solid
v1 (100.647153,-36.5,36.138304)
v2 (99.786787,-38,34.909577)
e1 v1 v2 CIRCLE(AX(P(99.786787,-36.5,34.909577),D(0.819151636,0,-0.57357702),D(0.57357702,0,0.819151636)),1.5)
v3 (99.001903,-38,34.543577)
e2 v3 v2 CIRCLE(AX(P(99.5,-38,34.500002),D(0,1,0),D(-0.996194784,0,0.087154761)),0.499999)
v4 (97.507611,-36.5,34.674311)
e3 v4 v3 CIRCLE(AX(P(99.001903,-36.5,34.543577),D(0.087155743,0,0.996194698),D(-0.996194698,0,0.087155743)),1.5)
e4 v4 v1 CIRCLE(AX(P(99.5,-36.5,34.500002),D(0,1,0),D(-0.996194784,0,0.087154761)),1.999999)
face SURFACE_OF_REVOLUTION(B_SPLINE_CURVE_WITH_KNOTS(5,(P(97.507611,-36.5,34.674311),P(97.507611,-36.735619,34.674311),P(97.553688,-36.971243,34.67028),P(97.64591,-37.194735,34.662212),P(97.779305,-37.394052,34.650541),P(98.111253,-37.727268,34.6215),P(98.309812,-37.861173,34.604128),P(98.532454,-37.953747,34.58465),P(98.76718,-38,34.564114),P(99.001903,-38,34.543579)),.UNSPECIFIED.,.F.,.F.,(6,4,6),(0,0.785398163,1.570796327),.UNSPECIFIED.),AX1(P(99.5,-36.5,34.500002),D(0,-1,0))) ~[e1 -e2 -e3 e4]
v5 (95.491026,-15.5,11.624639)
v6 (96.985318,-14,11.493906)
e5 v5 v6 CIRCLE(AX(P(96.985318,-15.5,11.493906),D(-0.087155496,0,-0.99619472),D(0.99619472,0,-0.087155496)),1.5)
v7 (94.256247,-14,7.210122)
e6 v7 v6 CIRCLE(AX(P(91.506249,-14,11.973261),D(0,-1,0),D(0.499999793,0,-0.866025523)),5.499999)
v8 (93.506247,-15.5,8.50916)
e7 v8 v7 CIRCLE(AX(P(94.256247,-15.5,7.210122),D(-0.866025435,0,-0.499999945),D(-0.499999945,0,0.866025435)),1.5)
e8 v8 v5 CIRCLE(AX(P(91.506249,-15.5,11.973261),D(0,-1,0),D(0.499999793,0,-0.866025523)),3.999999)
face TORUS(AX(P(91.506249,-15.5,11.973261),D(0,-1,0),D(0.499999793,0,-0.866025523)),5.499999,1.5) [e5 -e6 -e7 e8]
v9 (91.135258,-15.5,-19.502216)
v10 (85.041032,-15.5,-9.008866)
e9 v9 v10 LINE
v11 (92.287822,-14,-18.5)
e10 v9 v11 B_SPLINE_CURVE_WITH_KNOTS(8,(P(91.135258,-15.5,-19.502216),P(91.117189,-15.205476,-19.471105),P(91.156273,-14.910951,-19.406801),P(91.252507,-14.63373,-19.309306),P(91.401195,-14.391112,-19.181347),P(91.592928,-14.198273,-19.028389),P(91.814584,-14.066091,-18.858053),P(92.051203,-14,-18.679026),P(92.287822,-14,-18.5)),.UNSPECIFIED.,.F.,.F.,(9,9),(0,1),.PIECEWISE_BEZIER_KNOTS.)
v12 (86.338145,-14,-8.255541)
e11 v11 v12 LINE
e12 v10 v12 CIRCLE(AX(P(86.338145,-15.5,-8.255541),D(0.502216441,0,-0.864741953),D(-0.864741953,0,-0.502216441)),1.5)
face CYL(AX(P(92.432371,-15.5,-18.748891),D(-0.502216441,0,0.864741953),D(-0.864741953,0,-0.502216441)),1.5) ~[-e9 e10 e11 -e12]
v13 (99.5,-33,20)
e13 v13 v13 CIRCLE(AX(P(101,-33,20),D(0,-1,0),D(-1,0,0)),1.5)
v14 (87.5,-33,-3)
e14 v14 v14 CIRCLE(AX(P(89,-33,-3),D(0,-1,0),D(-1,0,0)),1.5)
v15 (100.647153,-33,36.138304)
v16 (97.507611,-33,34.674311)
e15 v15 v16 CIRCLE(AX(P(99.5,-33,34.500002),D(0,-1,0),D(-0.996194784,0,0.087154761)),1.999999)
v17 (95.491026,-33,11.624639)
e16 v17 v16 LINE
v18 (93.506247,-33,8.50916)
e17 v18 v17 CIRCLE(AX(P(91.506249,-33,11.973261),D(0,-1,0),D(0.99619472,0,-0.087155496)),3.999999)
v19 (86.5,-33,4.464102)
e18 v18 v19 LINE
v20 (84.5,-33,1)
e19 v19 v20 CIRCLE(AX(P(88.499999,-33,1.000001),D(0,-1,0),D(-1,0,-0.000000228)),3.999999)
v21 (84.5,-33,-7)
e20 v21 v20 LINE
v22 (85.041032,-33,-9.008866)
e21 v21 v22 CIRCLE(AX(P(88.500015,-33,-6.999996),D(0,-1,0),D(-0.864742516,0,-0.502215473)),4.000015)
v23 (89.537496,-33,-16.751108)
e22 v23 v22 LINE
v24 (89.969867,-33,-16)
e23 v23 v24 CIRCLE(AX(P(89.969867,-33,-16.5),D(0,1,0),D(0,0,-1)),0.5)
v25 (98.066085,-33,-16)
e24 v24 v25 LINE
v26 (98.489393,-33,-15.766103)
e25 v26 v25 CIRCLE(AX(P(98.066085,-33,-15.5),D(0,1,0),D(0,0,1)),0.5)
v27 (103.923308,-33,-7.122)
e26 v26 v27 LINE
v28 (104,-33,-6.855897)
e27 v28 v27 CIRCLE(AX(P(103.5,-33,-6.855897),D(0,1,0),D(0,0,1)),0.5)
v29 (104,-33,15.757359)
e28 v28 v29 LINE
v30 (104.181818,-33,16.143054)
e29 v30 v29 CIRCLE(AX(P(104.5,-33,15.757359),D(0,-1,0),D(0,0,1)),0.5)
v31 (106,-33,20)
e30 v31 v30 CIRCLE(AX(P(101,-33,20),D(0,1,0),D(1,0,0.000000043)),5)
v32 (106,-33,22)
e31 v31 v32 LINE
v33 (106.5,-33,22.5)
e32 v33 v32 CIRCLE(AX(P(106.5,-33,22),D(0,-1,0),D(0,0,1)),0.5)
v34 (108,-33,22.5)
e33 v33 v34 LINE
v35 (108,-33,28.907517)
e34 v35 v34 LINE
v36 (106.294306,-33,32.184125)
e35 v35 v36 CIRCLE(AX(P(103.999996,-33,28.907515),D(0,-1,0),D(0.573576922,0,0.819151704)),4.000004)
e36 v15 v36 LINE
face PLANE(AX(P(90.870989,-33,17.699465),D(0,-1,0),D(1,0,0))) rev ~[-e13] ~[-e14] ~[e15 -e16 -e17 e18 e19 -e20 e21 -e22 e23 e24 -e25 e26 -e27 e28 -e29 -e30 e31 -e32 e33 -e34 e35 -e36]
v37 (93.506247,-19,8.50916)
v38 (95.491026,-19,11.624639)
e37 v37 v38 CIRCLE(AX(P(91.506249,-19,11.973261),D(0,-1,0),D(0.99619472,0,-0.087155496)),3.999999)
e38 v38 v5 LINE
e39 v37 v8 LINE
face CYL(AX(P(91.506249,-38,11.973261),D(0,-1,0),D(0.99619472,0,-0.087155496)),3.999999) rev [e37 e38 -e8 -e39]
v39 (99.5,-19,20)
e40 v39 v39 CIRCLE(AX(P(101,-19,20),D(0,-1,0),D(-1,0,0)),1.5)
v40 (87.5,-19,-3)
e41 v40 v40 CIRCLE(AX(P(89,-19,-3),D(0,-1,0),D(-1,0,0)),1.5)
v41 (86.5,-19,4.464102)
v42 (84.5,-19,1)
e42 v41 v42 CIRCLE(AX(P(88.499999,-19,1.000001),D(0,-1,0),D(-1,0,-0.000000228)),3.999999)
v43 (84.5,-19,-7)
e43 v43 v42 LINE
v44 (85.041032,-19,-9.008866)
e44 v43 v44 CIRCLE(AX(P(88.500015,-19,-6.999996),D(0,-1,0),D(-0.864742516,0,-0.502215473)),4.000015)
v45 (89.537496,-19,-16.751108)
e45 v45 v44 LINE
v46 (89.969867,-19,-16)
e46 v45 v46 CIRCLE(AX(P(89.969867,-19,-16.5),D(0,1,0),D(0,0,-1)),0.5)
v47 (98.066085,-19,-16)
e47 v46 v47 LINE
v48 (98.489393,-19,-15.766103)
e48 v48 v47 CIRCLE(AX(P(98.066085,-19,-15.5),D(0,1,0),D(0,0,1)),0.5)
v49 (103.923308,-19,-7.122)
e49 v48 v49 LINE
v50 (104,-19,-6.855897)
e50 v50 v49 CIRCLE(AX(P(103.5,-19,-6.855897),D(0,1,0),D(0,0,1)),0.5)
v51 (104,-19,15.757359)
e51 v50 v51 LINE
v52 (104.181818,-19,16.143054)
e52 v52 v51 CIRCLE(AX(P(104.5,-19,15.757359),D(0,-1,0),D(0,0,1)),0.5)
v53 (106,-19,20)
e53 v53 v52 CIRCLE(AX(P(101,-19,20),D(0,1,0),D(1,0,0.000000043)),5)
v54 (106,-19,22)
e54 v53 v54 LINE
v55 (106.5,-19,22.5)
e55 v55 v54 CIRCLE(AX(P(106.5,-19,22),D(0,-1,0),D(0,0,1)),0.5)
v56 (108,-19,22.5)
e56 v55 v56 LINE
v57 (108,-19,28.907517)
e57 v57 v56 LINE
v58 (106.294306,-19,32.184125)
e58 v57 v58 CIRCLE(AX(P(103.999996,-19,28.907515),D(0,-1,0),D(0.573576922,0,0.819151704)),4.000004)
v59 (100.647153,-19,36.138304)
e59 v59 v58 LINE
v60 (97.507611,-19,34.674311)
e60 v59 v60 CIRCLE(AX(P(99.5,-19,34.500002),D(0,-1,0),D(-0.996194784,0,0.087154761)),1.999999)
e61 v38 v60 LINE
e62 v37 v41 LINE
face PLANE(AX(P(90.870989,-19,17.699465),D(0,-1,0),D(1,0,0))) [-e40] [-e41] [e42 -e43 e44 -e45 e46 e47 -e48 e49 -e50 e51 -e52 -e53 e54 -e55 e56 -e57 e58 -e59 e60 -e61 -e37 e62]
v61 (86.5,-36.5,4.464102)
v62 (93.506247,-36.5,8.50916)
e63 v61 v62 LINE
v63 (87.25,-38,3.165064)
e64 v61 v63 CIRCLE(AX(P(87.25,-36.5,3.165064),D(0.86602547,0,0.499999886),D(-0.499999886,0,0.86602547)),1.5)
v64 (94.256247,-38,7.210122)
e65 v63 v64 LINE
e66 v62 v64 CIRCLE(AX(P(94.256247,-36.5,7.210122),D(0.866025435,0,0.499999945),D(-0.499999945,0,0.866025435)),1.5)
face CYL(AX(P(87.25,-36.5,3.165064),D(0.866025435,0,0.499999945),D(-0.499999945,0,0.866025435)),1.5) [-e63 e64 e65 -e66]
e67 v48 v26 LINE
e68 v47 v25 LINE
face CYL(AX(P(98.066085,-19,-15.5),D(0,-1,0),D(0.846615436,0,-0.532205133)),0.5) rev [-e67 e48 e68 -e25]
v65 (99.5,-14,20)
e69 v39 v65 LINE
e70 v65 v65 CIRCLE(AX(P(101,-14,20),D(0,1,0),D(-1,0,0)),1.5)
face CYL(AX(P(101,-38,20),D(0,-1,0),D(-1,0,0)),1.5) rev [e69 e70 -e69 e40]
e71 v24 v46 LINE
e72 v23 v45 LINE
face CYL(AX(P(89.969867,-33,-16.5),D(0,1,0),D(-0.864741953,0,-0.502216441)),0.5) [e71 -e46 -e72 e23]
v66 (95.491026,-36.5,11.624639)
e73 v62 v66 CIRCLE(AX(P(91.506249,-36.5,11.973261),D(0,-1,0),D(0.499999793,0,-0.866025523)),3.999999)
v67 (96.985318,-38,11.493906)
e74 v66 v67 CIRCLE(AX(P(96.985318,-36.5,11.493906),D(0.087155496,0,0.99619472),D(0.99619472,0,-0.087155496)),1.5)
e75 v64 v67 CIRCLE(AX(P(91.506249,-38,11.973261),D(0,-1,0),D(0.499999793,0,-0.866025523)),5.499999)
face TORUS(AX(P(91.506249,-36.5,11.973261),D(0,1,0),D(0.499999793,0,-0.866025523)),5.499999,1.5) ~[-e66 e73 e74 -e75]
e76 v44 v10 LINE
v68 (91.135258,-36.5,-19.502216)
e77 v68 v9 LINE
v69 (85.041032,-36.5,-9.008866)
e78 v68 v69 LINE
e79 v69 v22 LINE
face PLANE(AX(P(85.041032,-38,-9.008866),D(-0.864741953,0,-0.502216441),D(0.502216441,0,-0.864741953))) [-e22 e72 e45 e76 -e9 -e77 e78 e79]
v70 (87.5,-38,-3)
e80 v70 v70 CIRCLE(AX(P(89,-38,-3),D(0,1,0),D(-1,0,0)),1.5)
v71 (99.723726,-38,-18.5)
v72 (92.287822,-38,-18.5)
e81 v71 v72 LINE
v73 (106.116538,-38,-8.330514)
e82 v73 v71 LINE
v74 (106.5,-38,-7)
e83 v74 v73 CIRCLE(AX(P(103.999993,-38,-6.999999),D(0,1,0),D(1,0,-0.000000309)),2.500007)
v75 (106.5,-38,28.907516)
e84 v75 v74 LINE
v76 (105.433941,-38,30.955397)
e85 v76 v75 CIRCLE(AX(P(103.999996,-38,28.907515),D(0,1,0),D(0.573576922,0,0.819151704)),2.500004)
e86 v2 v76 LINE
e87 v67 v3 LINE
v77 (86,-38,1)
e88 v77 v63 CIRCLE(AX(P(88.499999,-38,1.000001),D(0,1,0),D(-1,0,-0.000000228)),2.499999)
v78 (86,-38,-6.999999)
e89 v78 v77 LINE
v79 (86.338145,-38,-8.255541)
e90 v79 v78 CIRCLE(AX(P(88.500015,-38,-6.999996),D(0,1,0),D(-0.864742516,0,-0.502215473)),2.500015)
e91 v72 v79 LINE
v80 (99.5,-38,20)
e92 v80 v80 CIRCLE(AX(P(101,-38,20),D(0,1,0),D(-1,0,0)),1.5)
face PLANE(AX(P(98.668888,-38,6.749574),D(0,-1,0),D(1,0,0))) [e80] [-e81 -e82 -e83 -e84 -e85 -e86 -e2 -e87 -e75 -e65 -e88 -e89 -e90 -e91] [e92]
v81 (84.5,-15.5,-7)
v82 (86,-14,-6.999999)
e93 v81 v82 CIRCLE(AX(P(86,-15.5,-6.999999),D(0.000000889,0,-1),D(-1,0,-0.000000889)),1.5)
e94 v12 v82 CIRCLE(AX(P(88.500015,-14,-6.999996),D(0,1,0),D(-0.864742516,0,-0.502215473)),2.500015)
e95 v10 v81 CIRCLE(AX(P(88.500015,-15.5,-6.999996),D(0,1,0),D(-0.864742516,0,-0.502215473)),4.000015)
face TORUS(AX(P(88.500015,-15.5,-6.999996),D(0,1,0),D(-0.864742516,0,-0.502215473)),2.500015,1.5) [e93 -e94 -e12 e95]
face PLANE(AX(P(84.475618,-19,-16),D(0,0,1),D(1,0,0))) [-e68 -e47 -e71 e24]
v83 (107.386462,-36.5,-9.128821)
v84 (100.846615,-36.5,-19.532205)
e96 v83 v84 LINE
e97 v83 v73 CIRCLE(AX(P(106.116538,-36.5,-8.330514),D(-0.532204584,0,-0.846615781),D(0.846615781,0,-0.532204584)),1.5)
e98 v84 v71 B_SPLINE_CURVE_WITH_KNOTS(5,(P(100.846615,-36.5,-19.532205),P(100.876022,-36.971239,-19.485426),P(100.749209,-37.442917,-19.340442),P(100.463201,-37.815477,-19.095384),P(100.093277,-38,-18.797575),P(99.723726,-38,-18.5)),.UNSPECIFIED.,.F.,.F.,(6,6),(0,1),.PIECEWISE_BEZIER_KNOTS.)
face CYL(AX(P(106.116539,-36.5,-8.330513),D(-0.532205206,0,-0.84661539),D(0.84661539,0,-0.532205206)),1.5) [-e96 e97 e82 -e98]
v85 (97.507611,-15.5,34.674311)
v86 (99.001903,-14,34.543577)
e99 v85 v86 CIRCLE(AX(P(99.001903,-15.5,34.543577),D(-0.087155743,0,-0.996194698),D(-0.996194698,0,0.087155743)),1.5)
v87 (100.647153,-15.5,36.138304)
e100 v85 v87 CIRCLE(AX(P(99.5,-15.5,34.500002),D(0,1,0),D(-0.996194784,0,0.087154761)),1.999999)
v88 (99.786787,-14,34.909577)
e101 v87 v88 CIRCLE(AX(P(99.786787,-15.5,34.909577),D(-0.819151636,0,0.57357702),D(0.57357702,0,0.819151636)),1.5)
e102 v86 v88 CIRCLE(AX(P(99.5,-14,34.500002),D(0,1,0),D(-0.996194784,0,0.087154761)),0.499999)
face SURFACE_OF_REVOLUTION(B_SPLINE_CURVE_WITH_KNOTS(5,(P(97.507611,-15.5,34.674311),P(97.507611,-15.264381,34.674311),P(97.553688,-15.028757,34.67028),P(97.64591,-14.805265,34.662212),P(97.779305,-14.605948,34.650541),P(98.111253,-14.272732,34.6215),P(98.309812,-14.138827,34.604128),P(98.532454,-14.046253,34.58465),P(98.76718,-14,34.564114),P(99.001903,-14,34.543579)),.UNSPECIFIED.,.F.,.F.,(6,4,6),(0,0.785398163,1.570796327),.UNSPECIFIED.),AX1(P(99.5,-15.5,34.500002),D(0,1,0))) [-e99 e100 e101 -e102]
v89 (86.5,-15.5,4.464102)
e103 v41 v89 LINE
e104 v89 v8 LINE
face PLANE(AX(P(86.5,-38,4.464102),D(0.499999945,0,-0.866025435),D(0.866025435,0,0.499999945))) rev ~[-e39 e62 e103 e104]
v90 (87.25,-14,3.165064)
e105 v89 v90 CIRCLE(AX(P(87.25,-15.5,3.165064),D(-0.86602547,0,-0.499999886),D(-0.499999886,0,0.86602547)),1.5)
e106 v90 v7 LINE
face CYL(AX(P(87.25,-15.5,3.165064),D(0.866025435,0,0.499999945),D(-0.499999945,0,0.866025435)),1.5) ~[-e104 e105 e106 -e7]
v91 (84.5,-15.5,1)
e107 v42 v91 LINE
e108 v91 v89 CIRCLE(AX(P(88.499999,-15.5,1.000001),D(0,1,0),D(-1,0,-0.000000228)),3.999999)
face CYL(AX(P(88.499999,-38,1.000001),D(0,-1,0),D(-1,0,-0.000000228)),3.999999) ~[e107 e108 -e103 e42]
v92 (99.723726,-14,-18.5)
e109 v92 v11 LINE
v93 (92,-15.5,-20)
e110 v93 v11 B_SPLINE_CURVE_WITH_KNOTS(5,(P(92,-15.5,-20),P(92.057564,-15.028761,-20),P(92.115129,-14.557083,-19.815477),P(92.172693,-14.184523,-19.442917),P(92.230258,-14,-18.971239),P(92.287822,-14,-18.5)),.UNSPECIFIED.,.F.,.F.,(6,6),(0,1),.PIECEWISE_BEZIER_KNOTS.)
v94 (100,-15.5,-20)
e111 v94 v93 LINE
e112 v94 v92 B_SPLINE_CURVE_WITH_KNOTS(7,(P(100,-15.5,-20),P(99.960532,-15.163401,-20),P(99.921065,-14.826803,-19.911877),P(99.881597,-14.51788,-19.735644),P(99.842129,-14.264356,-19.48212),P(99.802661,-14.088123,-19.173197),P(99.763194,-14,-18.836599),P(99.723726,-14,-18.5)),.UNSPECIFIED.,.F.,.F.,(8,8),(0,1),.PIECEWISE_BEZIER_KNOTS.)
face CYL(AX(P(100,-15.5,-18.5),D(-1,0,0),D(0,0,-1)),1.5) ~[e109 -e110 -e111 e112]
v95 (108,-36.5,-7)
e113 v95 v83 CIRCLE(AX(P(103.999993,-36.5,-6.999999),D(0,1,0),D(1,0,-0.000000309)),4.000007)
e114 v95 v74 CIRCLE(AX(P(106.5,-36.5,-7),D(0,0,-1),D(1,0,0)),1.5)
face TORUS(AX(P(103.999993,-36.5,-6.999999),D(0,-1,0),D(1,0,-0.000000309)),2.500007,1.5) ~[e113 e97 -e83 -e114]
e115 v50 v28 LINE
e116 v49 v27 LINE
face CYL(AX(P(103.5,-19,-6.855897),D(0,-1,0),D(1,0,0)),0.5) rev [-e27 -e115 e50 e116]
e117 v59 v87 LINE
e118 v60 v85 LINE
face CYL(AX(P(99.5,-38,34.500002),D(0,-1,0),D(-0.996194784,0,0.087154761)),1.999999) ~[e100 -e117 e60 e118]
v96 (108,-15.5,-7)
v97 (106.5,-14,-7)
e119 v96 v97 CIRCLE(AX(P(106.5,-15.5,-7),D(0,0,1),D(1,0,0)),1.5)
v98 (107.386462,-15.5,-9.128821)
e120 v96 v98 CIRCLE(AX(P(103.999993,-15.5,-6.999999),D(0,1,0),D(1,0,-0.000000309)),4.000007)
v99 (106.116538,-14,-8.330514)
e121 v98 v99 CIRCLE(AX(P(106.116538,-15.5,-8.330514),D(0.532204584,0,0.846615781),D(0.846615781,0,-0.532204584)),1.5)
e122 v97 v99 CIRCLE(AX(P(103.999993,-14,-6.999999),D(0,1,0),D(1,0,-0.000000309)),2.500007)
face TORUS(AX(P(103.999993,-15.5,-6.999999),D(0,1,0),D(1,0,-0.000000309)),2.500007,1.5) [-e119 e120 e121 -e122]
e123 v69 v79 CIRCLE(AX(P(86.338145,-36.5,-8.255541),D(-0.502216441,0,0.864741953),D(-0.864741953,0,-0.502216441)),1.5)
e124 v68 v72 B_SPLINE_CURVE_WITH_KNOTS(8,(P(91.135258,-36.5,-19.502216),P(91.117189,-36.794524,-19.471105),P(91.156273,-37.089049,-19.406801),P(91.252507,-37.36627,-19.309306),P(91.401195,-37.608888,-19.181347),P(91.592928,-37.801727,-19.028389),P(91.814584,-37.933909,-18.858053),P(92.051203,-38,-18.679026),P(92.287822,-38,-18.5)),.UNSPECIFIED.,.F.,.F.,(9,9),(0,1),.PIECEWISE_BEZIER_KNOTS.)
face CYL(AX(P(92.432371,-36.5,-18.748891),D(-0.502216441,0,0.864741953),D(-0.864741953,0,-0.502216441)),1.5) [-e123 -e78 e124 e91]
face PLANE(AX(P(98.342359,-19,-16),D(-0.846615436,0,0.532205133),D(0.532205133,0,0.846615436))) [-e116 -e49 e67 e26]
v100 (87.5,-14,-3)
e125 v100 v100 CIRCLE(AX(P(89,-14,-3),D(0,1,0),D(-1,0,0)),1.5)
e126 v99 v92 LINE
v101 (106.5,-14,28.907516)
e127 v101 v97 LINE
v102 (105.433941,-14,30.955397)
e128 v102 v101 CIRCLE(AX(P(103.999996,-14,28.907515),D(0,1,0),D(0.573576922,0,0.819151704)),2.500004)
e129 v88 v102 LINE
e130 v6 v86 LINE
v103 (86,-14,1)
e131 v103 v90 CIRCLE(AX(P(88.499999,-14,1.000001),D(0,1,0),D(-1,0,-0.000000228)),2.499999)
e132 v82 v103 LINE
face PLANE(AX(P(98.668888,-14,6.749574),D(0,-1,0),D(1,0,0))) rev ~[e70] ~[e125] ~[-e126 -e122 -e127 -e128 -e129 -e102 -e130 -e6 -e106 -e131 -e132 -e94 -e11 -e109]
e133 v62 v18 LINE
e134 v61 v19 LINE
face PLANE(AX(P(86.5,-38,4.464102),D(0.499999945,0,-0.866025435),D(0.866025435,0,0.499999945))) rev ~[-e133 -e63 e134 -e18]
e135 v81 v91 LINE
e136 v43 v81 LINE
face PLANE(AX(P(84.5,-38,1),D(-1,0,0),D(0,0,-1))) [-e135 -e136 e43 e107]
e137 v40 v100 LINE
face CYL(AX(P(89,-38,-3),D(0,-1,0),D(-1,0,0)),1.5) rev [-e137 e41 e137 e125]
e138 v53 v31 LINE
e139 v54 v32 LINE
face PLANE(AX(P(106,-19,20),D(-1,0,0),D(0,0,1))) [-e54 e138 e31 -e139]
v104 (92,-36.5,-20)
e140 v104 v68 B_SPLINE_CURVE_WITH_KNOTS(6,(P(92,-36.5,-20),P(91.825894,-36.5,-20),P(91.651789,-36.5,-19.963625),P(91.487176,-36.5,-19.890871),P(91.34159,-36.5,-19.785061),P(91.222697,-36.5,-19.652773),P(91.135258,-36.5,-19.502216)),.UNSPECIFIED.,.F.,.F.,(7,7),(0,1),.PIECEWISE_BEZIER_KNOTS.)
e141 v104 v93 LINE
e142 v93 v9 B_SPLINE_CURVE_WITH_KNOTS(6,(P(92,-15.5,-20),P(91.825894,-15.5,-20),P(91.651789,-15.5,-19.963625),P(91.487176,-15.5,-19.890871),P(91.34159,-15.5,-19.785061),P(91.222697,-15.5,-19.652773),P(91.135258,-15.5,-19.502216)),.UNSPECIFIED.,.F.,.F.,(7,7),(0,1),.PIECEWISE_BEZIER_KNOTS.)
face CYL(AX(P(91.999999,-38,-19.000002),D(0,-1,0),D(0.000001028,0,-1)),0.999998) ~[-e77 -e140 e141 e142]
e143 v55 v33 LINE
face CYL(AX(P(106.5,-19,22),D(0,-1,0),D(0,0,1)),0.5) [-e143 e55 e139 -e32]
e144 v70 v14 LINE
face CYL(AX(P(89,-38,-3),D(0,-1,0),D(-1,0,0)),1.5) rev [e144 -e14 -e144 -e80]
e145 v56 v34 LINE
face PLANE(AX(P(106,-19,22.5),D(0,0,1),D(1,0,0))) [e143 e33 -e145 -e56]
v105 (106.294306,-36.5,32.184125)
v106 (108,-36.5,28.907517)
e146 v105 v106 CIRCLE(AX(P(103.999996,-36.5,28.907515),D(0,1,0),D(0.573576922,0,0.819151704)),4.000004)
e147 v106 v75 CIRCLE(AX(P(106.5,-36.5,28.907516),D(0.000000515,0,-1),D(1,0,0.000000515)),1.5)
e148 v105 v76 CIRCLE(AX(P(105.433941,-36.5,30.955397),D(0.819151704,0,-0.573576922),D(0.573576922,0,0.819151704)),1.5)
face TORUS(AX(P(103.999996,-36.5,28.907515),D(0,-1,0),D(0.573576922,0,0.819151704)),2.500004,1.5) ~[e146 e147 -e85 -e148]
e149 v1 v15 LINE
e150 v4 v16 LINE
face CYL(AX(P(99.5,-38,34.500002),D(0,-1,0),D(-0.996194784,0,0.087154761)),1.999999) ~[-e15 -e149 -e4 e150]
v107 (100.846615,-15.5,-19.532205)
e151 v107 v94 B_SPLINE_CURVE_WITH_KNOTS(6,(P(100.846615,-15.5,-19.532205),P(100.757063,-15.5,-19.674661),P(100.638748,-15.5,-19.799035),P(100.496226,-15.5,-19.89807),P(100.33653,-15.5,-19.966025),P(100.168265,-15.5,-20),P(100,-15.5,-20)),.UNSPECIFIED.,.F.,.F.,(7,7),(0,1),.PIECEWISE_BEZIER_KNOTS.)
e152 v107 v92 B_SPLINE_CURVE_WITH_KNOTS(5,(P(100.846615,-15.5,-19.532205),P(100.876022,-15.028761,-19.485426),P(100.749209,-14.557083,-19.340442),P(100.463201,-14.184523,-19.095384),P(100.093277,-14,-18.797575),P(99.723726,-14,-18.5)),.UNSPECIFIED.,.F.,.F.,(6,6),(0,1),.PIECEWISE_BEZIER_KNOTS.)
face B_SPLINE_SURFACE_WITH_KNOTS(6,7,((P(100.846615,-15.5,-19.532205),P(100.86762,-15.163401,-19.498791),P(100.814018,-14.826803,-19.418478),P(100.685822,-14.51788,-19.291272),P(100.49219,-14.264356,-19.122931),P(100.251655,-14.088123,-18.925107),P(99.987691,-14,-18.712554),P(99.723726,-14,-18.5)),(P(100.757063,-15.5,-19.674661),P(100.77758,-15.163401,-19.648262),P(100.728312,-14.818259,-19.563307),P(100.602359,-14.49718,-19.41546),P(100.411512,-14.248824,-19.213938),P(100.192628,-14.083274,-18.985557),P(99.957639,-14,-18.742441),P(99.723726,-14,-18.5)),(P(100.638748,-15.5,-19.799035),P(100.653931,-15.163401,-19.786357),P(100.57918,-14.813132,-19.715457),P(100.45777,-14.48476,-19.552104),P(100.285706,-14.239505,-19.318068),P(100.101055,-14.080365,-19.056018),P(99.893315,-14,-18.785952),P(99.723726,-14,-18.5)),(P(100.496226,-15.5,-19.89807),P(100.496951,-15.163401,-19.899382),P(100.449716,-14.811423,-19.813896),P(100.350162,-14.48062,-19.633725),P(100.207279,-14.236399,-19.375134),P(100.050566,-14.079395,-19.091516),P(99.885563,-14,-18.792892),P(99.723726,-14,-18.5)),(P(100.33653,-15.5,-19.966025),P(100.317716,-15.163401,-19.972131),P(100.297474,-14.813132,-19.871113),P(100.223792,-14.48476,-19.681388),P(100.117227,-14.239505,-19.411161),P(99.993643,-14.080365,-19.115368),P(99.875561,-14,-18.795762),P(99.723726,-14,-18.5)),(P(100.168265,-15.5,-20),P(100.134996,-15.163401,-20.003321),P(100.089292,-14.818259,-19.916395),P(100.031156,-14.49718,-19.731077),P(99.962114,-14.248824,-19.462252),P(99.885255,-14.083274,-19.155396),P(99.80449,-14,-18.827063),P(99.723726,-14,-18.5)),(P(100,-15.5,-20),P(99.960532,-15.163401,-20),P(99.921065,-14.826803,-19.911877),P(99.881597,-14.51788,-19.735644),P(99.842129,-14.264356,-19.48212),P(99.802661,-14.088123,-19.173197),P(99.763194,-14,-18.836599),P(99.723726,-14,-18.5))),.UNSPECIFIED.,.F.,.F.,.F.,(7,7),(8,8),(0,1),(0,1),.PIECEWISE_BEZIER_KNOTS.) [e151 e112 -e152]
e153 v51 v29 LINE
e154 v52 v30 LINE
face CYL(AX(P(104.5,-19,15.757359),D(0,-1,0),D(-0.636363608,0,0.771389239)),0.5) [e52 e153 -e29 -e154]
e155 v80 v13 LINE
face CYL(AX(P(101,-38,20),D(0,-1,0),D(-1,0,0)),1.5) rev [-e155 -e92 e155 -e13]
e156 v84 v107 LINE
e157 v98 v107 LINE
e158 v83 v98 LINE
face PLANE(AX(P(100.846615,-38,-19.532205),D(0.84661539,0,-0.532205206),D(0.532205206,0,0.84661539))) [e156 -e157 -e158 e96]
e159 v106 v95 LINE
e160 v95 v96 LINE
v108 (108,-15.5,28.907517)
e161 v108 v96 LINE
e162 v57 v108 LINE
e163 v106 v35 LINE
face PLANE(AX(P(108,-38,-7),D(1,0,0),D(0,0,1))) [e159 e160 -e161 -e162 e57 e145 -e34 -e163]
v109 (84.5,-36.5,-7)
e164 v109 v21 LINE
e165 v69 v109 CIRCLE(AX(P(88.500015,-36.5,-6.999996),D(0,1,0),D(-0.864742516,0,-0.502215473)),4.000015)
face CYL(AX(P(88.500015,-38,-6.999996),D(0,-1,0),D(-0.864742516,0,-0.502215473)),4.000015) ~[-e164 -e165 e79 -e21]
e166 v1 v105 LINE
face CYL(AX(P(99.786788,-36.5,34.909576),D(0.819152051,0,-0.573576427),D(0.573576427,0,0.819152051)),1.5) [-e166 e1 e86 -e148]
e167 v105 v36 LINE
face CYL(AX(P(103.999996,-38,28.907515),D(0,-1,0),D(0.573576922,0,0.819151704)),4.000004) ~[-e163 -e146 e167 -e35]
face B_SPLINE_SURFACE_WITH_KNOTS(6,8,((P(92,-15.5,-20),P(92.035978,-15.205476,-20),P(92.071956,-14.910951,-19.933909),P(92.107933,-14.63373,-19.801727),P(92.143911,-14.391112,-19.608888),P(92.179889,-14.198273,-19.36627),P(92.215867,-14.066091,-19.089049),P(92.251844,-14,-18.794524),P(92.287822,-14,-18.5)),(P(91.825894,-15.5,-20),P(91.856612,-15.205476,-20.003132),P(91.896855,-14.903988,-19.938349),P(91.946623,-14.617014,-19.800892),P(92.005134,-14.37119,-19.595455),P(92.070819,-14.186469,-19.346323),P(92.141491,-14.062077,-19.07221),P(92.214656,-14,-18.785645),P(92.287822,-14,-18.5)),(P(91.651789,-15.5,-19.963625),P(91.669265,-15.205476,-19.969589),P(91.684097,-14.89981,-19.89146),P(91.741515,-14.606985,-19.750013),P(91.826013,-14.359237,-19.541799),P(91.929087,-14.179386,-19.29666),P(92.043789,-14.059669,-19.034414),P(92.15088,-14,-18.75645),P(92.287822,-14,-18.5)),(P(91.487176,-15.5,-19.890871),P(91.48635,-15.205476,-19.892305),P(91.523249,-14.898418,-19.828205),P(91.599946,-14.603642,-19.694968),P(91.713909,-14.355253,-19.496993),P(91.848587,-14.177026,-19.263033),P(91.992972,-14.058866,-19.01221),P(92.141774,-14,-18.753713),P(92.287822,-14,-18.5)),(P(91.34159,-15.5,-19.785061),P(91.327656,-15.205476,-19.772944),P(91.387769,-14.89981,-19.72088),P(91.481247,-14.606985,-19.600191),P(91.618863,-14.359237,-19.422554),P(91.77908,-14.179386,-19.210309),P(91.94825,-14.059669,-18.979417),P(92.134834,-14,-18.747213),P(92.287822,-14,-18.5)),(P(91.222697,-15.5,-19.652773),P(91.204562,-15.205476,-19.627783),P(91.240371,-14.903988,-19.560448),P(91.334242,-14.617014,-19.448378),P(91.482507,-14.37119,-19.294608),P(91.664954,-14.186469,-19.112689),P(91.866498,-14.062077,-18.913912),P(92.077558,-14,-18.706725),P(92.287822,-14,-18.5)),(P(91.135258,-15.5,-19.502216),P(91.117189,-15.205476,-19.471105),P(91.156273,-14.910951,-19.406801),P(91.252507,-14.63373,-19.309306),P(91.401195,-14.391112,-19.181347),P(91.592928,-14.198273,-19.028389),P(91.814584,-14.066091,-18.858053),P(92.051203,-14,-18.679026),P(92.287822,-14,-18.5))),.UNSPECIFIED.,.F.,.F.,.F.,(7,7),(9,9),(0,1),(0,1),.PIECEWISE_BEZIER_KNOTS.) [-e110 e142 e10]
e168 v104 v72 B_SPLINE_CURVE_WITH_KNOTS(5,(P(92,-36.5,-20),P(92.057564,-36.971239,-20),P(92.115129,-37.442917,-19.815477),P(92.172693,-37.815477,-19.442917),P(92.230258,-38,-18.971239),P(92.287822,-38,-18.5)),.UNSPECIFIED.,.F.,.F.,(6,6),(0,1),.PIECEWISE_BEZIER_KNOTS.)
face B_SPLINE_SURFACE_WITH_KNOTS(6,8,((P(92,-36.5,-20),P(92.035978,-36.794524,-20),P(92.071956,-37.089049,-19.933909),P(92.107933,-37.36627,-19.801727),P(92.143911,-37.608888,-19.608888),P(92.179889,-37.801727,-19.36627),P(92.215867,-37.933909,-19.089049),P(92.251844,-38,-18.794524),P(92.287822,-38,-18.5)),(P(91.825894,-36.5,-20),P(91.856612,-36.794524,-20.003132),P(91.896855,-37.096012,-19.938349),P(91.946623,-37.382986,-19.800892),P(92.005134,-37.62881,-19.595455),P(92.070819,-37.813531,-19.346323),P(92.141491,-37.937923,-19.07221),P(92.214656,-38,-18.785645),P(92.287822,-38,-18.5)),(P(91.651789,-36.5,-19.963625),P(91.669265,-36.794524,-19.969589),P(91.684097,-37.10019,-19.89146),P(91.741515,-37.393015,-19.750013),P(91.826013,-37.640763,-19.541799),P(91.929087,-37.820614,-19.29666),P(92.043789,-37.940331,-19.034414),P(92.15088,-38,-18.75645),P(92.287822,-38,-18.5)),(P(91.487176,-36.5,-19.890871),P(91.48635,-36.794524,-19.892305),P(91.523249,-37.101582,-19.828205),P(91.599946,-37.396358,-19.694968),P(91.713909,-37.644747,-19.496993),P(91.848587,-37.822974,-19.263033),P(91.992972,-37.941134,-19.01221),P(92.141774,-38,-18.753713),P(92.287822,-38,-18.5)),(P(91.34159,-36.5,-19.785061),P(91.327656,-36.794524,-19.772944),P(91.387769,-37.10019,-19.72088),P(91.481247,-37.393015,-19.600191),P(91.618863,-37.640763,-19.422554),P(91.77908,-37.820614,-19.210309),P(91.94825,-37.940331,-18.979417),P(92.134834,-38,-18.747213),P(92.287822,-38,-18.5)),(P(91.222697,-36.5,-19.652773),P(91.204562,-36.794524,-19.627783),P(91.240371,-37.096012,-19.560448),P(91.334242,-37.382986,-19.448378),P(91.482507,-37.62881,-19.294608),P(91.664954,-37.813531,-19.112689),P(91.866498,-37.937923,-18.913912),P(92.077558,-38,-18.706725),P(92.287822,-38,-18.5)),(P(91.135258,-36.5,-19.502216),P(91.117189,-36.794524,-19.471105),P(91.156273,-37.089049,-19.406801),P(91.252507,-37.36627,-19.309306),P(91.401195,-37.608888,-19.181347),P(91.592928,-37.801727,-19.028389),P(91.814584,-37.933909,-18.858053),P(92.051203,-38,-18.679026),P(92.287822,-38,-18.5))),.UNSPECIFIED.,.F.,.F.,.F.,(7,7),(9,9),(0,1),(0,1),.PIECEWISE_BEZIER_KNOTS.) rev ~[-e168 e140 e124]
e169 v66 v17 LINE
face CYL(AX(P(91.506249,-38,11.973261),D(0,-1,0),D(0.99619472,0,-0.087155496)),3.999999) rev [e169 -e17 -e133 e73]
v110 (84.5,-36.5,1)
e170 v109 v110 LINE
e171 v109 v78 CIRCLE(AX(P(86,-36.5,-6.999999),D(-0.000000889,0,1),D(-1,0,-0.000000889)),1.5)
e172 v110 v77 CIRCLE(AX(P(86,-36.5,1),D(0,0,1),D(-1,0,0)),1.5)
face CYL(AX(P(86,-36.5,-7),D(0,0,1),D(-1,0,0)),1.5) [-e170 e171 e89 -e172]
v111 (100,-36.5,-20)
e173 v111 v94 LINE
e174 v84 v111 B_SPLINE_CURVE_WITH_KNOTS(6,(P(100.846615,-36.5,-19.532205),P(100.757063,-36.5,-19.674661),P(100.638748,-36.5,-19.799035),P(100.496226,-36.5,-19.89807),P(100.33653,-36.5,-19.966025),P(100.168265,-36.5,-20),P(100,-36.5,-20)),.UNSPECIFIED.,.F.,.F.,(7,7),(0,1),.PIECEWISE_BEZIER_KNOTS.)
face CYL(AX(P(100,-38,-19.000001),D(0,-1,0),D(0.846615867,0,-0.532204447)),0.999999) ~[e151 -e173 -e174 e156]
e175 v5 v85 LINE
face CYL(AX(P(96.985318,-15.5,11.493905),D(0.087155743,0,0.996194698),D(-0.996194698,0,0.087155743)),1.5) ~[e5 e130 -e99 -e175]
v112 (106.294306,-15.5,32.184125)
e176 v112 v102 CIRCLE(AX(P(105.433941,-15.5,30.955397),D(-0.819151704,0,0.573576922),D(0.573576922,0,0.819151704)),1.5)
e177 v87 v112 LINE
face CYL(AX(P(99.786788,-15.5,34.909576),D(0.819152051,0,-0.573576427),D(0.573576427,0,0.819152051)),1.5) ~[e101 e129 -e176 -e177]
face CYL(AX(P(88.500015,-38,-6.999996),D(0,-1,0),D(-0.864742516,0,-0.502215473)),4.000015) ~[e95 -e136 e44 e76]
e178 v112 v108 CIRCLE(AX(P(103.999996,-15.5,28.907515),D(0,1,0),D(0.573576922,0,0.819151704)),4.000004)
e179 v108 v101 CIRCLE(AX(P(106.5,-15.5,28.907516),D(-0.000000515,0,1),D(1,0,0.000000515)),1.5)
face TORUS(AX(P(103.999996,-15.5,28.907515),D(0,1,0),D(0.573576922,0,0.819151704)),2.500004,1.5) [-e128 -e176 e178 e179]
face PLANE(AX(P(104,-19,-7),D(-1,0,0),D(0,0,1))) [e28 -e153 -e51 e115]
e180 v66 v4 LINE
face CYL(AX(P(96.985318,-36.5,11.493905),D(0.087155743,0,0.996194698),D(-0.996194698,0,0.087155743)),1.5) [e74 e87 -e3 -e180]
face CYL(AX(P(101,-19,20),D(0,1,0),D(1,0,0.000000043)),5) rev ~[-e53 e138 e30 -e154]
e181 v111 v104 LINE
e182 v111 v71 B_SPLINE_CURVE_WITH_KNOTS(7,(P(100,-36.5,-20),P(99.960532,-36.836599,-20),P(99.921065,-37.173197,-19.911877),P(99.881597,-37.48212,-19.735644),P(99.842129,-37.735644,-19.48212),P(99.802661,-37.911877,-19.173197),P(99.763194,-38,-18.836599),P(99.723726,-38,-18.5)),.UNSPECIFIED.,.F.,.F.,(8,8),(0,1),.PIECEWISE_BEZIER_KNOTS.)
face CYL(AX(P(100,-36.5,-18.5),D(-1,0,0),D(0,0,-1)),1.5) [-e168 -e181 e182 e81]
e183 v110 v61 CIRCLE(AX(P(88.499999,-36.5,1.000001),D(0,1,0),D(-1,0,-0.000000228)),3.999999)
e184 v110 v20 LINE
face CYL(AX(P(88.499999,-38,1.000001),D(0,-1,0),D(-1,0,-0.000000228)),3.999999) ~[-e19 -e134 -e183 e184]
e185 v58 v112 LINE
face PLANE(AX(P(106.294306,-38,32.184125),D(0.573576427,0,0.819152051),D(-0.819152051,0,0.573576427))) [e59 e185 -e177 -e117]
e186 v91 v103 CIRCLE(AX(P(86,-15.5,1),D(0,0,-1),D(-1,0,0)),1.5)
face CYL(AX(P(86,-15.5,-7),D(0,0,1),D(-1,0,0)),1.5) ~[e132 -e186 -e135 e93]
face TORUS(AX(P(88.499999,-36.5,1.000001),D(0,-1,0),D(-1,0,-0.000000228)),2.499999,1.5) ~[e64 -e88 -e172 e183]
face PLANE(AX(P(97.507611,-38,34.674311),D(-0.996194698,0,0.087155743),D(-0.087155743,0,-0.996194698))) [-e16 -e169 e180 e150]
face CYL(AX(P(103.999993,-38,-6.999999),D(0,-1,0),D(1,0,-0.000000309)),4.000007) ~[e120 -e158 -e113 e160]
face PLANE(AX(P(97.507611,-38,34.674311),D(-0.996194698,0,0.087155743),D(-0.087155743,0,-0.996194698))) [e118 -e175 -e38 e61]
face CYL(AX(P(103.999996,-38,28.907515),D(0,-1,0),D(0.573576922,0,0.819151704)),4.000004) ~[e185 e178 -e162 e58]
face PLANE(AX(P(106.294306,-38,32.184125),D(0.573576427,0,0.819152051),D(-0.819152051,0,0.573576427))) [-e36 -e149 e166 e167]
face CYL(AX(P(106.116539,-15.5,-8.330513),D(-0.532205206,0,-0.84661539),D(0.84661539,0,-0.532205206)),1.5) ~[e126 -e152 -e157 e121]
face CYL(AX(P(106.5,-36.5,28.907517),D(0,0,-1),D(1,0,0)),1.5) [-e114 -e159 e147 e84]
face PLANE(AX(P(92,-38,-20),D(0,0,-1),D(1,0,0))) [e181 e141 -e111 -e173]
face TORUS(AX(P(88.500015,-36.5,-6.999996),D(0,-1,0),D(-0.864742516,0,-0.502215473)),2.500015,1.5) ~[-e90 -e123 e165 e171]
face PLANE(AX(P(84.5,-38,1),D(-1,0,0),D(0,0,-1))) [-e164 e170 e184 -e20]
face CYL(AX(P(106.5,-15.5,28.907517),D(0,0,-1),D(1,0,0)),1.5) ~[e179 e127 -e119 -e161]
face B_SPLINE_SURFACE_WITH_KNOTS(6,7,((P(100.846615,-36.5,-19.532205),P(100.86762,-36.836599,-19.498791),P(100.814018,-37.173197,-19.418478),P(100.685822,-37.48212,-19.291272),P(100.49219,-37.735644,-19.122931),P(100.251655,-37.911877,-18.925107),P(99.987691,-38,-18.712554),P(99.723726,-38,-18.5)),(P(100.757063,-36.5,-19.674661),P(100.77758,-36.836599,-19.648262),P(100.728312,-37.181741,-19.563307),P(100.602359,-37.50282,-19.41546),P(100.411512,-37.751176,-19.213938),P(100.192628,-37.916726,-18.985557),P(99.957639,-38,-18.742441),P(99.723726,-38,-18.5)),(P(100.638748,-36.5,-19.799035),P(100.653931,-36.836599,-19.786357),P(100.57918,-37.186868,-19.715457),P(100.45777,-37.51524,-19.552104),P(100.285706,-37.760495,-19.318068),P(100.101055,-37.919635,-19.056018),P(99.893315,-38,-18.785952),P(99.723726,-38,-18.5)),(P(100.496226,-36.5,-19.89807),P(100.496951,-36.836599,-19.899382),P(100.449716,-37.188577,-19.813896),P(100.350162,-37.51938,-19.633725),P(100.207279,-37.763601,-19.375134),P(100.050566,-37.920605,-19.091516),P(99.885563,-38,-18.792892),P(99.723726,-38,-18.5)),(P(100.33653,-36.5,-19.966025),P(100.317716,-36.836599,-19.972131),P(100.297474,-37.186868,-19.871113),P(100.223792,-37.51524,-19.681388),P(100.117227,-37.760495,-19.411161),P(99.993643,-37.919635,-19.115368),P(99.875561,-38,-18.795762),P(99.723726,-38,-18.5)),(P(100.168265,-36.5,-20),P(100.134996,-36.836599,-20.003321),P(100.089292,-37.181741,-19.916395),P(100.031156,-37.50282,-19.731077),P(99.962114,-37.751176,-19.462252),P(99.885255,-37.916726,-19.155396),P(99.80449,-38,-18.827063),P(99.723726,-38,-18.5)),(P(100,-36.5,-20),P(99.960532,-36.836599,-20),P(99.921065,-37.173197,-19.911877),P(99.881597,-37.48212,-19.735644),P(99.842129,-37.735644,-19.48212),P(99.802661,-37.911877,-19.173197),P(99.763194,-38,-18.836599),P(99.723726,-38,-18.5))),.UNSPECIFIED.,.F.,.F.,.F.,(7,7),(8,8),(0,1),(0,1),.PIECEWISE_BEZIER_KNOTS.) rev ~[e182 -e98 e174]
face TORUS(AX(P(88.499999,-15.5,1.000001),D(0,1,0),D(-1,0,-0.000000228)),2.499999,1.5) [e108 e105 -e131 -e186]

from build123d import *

# Parameters (mm, degrees)
SKETCH036_R              = 1.5
PAD021_DEPTH             = 24
FILLET007_R              = 1.5
POCKET013_DEPTH          = 14
FILLET008_R              = 0.5
CLONE171_PLACEMENT_ANGLE = 180


with BuildPart() as part:
    # Sketch036 → Pad021 (new body)
    with BuildSketch(Plane.XZ):
        with BuildLine():
            Line((-59.294306, 24.684125), (-53.647153, 28.638304))
            ThreePointArc((-50.507611, 27.174311), (-51.654763, 28.812616), (-53.647153, 28.638304))
            Line((-50.507611, 27.174311), (-48.491026, 4.124639))
            ThreePointArc((-48.491026, 4.124639), (-47.879813, 2.324063), (-46.506247, 1.00916))
            Line((-39.5, -3.035898), (-46.506247, 1.00916))
            ThreePointArc((-37.5, -6.5), (-38.035898, -4.5), (-39.5, -3.035898))
            Line((-37.5, -6.5), (-37.5, -14.5))
            ThreePointArc((-38.041032, -16.508866), (-37.637626, -15.540223), (-37.5, -14.5))
            Line((-38.041032, -16.508866), (-44.135258, -27.002216))
            ThreePointArc((-45, -27.5), (-44.501109, -27.366665), (-44.135258, -27.002216))
            Line((-45, -27.5), (-53, -27.5))
            ThreePointArc((-53.846615, -27.032205), (-53.483629, -27.375273), (-53, -27.5))
            Line((-53.846615, -27.032205), (-60.386462, -16.628821))
            ThreePointArc((-61, -14.5), (-60.843556, -15.607735), (-60.386462, -16.628821))
            Line((-61, -14.5), (-61, 21.407517))
            ThreePointArc((-59.294306, 24.684125), (-60.548043, 23.254511), (-61, 21.407517))
        make_face()
        with Locations((-54, 12.5)):
            Circle(SKETCH036_R, mode=Mode.SUBTRACT)
        with Locations((-42, -10.5)):
            Circle(SKETCH036_R, mode=Mode.SUBTRACT)
    extrude(amount=PAD021_DEPTH)

    # Fillet007
    fillet007_edges = [part.edges().sort_by_distance(p)[0] for p in [
        (-60.548043, 0, 23.254511),
        (-60.548043, -24, 23.254511),
    ]]
    fillet(fillet007_edges, radius=FILLET007_R)

    # Sketch037 (on Face12 of Fillet007) → Pocket013 (cut)
    with BuildSketch(Plane.XZ.offset(19)):
        with BuildLine():
            Line((-37.475618, -23.5), (-51.342359, -23.5))
            Line((-51.342359, -23.5), (-57, -14.5))
            Line((-57, -14.5), (-57, 8.5))
            ThreePointArc((-59, 12.5), (-58.472136, 10.263932), (-57, 8.5))
            Line((-59, 12.5), (-59, 15))
            Line((-59, 15), (-79, 15))
            Line((-79, 15), (-79, 35))
            Line((-79, 35), (-15.733307, 35))
            Line((-15.733307, 35), (-15.733307, -20.5))
            Line((-15.733307, -20.5), (-35.733307, -20.5))
            Line((-35.733307, -20.5), (-37.475618, -23.5))
        make_face()
    extrude(amount=-POCKET013_DEPTH, mode=Mode.SUBTRACT)

    # Fillet008
    fillet008_edges = [part.edges().sort_by_distance(p)[0] for p in [
        (-57, -12, 8.5),
        (-59, -12, 15),
        (-57, -12, -14.5),
        (-51.342359, -12, -23.5),
        (-42.101275, -12, -23.5),
    ]]
    fillet(fillet008_edges, radius=FILLET008_R)


with BuildPart() as part_1:
    # Body003 placement: moved
    add(part.part.moved(Location((0, 33, 0))))


with BuildPart() as part_2:
    # Clone171 placement: moved
    add(part_1.part.moved(Location((47, -5, 7.5))).rotate(Axis((47, -5, 7.5), (0, 0, 1)), CLONE171_PLACEMENT_ANGLE))


solid = part_2.part
